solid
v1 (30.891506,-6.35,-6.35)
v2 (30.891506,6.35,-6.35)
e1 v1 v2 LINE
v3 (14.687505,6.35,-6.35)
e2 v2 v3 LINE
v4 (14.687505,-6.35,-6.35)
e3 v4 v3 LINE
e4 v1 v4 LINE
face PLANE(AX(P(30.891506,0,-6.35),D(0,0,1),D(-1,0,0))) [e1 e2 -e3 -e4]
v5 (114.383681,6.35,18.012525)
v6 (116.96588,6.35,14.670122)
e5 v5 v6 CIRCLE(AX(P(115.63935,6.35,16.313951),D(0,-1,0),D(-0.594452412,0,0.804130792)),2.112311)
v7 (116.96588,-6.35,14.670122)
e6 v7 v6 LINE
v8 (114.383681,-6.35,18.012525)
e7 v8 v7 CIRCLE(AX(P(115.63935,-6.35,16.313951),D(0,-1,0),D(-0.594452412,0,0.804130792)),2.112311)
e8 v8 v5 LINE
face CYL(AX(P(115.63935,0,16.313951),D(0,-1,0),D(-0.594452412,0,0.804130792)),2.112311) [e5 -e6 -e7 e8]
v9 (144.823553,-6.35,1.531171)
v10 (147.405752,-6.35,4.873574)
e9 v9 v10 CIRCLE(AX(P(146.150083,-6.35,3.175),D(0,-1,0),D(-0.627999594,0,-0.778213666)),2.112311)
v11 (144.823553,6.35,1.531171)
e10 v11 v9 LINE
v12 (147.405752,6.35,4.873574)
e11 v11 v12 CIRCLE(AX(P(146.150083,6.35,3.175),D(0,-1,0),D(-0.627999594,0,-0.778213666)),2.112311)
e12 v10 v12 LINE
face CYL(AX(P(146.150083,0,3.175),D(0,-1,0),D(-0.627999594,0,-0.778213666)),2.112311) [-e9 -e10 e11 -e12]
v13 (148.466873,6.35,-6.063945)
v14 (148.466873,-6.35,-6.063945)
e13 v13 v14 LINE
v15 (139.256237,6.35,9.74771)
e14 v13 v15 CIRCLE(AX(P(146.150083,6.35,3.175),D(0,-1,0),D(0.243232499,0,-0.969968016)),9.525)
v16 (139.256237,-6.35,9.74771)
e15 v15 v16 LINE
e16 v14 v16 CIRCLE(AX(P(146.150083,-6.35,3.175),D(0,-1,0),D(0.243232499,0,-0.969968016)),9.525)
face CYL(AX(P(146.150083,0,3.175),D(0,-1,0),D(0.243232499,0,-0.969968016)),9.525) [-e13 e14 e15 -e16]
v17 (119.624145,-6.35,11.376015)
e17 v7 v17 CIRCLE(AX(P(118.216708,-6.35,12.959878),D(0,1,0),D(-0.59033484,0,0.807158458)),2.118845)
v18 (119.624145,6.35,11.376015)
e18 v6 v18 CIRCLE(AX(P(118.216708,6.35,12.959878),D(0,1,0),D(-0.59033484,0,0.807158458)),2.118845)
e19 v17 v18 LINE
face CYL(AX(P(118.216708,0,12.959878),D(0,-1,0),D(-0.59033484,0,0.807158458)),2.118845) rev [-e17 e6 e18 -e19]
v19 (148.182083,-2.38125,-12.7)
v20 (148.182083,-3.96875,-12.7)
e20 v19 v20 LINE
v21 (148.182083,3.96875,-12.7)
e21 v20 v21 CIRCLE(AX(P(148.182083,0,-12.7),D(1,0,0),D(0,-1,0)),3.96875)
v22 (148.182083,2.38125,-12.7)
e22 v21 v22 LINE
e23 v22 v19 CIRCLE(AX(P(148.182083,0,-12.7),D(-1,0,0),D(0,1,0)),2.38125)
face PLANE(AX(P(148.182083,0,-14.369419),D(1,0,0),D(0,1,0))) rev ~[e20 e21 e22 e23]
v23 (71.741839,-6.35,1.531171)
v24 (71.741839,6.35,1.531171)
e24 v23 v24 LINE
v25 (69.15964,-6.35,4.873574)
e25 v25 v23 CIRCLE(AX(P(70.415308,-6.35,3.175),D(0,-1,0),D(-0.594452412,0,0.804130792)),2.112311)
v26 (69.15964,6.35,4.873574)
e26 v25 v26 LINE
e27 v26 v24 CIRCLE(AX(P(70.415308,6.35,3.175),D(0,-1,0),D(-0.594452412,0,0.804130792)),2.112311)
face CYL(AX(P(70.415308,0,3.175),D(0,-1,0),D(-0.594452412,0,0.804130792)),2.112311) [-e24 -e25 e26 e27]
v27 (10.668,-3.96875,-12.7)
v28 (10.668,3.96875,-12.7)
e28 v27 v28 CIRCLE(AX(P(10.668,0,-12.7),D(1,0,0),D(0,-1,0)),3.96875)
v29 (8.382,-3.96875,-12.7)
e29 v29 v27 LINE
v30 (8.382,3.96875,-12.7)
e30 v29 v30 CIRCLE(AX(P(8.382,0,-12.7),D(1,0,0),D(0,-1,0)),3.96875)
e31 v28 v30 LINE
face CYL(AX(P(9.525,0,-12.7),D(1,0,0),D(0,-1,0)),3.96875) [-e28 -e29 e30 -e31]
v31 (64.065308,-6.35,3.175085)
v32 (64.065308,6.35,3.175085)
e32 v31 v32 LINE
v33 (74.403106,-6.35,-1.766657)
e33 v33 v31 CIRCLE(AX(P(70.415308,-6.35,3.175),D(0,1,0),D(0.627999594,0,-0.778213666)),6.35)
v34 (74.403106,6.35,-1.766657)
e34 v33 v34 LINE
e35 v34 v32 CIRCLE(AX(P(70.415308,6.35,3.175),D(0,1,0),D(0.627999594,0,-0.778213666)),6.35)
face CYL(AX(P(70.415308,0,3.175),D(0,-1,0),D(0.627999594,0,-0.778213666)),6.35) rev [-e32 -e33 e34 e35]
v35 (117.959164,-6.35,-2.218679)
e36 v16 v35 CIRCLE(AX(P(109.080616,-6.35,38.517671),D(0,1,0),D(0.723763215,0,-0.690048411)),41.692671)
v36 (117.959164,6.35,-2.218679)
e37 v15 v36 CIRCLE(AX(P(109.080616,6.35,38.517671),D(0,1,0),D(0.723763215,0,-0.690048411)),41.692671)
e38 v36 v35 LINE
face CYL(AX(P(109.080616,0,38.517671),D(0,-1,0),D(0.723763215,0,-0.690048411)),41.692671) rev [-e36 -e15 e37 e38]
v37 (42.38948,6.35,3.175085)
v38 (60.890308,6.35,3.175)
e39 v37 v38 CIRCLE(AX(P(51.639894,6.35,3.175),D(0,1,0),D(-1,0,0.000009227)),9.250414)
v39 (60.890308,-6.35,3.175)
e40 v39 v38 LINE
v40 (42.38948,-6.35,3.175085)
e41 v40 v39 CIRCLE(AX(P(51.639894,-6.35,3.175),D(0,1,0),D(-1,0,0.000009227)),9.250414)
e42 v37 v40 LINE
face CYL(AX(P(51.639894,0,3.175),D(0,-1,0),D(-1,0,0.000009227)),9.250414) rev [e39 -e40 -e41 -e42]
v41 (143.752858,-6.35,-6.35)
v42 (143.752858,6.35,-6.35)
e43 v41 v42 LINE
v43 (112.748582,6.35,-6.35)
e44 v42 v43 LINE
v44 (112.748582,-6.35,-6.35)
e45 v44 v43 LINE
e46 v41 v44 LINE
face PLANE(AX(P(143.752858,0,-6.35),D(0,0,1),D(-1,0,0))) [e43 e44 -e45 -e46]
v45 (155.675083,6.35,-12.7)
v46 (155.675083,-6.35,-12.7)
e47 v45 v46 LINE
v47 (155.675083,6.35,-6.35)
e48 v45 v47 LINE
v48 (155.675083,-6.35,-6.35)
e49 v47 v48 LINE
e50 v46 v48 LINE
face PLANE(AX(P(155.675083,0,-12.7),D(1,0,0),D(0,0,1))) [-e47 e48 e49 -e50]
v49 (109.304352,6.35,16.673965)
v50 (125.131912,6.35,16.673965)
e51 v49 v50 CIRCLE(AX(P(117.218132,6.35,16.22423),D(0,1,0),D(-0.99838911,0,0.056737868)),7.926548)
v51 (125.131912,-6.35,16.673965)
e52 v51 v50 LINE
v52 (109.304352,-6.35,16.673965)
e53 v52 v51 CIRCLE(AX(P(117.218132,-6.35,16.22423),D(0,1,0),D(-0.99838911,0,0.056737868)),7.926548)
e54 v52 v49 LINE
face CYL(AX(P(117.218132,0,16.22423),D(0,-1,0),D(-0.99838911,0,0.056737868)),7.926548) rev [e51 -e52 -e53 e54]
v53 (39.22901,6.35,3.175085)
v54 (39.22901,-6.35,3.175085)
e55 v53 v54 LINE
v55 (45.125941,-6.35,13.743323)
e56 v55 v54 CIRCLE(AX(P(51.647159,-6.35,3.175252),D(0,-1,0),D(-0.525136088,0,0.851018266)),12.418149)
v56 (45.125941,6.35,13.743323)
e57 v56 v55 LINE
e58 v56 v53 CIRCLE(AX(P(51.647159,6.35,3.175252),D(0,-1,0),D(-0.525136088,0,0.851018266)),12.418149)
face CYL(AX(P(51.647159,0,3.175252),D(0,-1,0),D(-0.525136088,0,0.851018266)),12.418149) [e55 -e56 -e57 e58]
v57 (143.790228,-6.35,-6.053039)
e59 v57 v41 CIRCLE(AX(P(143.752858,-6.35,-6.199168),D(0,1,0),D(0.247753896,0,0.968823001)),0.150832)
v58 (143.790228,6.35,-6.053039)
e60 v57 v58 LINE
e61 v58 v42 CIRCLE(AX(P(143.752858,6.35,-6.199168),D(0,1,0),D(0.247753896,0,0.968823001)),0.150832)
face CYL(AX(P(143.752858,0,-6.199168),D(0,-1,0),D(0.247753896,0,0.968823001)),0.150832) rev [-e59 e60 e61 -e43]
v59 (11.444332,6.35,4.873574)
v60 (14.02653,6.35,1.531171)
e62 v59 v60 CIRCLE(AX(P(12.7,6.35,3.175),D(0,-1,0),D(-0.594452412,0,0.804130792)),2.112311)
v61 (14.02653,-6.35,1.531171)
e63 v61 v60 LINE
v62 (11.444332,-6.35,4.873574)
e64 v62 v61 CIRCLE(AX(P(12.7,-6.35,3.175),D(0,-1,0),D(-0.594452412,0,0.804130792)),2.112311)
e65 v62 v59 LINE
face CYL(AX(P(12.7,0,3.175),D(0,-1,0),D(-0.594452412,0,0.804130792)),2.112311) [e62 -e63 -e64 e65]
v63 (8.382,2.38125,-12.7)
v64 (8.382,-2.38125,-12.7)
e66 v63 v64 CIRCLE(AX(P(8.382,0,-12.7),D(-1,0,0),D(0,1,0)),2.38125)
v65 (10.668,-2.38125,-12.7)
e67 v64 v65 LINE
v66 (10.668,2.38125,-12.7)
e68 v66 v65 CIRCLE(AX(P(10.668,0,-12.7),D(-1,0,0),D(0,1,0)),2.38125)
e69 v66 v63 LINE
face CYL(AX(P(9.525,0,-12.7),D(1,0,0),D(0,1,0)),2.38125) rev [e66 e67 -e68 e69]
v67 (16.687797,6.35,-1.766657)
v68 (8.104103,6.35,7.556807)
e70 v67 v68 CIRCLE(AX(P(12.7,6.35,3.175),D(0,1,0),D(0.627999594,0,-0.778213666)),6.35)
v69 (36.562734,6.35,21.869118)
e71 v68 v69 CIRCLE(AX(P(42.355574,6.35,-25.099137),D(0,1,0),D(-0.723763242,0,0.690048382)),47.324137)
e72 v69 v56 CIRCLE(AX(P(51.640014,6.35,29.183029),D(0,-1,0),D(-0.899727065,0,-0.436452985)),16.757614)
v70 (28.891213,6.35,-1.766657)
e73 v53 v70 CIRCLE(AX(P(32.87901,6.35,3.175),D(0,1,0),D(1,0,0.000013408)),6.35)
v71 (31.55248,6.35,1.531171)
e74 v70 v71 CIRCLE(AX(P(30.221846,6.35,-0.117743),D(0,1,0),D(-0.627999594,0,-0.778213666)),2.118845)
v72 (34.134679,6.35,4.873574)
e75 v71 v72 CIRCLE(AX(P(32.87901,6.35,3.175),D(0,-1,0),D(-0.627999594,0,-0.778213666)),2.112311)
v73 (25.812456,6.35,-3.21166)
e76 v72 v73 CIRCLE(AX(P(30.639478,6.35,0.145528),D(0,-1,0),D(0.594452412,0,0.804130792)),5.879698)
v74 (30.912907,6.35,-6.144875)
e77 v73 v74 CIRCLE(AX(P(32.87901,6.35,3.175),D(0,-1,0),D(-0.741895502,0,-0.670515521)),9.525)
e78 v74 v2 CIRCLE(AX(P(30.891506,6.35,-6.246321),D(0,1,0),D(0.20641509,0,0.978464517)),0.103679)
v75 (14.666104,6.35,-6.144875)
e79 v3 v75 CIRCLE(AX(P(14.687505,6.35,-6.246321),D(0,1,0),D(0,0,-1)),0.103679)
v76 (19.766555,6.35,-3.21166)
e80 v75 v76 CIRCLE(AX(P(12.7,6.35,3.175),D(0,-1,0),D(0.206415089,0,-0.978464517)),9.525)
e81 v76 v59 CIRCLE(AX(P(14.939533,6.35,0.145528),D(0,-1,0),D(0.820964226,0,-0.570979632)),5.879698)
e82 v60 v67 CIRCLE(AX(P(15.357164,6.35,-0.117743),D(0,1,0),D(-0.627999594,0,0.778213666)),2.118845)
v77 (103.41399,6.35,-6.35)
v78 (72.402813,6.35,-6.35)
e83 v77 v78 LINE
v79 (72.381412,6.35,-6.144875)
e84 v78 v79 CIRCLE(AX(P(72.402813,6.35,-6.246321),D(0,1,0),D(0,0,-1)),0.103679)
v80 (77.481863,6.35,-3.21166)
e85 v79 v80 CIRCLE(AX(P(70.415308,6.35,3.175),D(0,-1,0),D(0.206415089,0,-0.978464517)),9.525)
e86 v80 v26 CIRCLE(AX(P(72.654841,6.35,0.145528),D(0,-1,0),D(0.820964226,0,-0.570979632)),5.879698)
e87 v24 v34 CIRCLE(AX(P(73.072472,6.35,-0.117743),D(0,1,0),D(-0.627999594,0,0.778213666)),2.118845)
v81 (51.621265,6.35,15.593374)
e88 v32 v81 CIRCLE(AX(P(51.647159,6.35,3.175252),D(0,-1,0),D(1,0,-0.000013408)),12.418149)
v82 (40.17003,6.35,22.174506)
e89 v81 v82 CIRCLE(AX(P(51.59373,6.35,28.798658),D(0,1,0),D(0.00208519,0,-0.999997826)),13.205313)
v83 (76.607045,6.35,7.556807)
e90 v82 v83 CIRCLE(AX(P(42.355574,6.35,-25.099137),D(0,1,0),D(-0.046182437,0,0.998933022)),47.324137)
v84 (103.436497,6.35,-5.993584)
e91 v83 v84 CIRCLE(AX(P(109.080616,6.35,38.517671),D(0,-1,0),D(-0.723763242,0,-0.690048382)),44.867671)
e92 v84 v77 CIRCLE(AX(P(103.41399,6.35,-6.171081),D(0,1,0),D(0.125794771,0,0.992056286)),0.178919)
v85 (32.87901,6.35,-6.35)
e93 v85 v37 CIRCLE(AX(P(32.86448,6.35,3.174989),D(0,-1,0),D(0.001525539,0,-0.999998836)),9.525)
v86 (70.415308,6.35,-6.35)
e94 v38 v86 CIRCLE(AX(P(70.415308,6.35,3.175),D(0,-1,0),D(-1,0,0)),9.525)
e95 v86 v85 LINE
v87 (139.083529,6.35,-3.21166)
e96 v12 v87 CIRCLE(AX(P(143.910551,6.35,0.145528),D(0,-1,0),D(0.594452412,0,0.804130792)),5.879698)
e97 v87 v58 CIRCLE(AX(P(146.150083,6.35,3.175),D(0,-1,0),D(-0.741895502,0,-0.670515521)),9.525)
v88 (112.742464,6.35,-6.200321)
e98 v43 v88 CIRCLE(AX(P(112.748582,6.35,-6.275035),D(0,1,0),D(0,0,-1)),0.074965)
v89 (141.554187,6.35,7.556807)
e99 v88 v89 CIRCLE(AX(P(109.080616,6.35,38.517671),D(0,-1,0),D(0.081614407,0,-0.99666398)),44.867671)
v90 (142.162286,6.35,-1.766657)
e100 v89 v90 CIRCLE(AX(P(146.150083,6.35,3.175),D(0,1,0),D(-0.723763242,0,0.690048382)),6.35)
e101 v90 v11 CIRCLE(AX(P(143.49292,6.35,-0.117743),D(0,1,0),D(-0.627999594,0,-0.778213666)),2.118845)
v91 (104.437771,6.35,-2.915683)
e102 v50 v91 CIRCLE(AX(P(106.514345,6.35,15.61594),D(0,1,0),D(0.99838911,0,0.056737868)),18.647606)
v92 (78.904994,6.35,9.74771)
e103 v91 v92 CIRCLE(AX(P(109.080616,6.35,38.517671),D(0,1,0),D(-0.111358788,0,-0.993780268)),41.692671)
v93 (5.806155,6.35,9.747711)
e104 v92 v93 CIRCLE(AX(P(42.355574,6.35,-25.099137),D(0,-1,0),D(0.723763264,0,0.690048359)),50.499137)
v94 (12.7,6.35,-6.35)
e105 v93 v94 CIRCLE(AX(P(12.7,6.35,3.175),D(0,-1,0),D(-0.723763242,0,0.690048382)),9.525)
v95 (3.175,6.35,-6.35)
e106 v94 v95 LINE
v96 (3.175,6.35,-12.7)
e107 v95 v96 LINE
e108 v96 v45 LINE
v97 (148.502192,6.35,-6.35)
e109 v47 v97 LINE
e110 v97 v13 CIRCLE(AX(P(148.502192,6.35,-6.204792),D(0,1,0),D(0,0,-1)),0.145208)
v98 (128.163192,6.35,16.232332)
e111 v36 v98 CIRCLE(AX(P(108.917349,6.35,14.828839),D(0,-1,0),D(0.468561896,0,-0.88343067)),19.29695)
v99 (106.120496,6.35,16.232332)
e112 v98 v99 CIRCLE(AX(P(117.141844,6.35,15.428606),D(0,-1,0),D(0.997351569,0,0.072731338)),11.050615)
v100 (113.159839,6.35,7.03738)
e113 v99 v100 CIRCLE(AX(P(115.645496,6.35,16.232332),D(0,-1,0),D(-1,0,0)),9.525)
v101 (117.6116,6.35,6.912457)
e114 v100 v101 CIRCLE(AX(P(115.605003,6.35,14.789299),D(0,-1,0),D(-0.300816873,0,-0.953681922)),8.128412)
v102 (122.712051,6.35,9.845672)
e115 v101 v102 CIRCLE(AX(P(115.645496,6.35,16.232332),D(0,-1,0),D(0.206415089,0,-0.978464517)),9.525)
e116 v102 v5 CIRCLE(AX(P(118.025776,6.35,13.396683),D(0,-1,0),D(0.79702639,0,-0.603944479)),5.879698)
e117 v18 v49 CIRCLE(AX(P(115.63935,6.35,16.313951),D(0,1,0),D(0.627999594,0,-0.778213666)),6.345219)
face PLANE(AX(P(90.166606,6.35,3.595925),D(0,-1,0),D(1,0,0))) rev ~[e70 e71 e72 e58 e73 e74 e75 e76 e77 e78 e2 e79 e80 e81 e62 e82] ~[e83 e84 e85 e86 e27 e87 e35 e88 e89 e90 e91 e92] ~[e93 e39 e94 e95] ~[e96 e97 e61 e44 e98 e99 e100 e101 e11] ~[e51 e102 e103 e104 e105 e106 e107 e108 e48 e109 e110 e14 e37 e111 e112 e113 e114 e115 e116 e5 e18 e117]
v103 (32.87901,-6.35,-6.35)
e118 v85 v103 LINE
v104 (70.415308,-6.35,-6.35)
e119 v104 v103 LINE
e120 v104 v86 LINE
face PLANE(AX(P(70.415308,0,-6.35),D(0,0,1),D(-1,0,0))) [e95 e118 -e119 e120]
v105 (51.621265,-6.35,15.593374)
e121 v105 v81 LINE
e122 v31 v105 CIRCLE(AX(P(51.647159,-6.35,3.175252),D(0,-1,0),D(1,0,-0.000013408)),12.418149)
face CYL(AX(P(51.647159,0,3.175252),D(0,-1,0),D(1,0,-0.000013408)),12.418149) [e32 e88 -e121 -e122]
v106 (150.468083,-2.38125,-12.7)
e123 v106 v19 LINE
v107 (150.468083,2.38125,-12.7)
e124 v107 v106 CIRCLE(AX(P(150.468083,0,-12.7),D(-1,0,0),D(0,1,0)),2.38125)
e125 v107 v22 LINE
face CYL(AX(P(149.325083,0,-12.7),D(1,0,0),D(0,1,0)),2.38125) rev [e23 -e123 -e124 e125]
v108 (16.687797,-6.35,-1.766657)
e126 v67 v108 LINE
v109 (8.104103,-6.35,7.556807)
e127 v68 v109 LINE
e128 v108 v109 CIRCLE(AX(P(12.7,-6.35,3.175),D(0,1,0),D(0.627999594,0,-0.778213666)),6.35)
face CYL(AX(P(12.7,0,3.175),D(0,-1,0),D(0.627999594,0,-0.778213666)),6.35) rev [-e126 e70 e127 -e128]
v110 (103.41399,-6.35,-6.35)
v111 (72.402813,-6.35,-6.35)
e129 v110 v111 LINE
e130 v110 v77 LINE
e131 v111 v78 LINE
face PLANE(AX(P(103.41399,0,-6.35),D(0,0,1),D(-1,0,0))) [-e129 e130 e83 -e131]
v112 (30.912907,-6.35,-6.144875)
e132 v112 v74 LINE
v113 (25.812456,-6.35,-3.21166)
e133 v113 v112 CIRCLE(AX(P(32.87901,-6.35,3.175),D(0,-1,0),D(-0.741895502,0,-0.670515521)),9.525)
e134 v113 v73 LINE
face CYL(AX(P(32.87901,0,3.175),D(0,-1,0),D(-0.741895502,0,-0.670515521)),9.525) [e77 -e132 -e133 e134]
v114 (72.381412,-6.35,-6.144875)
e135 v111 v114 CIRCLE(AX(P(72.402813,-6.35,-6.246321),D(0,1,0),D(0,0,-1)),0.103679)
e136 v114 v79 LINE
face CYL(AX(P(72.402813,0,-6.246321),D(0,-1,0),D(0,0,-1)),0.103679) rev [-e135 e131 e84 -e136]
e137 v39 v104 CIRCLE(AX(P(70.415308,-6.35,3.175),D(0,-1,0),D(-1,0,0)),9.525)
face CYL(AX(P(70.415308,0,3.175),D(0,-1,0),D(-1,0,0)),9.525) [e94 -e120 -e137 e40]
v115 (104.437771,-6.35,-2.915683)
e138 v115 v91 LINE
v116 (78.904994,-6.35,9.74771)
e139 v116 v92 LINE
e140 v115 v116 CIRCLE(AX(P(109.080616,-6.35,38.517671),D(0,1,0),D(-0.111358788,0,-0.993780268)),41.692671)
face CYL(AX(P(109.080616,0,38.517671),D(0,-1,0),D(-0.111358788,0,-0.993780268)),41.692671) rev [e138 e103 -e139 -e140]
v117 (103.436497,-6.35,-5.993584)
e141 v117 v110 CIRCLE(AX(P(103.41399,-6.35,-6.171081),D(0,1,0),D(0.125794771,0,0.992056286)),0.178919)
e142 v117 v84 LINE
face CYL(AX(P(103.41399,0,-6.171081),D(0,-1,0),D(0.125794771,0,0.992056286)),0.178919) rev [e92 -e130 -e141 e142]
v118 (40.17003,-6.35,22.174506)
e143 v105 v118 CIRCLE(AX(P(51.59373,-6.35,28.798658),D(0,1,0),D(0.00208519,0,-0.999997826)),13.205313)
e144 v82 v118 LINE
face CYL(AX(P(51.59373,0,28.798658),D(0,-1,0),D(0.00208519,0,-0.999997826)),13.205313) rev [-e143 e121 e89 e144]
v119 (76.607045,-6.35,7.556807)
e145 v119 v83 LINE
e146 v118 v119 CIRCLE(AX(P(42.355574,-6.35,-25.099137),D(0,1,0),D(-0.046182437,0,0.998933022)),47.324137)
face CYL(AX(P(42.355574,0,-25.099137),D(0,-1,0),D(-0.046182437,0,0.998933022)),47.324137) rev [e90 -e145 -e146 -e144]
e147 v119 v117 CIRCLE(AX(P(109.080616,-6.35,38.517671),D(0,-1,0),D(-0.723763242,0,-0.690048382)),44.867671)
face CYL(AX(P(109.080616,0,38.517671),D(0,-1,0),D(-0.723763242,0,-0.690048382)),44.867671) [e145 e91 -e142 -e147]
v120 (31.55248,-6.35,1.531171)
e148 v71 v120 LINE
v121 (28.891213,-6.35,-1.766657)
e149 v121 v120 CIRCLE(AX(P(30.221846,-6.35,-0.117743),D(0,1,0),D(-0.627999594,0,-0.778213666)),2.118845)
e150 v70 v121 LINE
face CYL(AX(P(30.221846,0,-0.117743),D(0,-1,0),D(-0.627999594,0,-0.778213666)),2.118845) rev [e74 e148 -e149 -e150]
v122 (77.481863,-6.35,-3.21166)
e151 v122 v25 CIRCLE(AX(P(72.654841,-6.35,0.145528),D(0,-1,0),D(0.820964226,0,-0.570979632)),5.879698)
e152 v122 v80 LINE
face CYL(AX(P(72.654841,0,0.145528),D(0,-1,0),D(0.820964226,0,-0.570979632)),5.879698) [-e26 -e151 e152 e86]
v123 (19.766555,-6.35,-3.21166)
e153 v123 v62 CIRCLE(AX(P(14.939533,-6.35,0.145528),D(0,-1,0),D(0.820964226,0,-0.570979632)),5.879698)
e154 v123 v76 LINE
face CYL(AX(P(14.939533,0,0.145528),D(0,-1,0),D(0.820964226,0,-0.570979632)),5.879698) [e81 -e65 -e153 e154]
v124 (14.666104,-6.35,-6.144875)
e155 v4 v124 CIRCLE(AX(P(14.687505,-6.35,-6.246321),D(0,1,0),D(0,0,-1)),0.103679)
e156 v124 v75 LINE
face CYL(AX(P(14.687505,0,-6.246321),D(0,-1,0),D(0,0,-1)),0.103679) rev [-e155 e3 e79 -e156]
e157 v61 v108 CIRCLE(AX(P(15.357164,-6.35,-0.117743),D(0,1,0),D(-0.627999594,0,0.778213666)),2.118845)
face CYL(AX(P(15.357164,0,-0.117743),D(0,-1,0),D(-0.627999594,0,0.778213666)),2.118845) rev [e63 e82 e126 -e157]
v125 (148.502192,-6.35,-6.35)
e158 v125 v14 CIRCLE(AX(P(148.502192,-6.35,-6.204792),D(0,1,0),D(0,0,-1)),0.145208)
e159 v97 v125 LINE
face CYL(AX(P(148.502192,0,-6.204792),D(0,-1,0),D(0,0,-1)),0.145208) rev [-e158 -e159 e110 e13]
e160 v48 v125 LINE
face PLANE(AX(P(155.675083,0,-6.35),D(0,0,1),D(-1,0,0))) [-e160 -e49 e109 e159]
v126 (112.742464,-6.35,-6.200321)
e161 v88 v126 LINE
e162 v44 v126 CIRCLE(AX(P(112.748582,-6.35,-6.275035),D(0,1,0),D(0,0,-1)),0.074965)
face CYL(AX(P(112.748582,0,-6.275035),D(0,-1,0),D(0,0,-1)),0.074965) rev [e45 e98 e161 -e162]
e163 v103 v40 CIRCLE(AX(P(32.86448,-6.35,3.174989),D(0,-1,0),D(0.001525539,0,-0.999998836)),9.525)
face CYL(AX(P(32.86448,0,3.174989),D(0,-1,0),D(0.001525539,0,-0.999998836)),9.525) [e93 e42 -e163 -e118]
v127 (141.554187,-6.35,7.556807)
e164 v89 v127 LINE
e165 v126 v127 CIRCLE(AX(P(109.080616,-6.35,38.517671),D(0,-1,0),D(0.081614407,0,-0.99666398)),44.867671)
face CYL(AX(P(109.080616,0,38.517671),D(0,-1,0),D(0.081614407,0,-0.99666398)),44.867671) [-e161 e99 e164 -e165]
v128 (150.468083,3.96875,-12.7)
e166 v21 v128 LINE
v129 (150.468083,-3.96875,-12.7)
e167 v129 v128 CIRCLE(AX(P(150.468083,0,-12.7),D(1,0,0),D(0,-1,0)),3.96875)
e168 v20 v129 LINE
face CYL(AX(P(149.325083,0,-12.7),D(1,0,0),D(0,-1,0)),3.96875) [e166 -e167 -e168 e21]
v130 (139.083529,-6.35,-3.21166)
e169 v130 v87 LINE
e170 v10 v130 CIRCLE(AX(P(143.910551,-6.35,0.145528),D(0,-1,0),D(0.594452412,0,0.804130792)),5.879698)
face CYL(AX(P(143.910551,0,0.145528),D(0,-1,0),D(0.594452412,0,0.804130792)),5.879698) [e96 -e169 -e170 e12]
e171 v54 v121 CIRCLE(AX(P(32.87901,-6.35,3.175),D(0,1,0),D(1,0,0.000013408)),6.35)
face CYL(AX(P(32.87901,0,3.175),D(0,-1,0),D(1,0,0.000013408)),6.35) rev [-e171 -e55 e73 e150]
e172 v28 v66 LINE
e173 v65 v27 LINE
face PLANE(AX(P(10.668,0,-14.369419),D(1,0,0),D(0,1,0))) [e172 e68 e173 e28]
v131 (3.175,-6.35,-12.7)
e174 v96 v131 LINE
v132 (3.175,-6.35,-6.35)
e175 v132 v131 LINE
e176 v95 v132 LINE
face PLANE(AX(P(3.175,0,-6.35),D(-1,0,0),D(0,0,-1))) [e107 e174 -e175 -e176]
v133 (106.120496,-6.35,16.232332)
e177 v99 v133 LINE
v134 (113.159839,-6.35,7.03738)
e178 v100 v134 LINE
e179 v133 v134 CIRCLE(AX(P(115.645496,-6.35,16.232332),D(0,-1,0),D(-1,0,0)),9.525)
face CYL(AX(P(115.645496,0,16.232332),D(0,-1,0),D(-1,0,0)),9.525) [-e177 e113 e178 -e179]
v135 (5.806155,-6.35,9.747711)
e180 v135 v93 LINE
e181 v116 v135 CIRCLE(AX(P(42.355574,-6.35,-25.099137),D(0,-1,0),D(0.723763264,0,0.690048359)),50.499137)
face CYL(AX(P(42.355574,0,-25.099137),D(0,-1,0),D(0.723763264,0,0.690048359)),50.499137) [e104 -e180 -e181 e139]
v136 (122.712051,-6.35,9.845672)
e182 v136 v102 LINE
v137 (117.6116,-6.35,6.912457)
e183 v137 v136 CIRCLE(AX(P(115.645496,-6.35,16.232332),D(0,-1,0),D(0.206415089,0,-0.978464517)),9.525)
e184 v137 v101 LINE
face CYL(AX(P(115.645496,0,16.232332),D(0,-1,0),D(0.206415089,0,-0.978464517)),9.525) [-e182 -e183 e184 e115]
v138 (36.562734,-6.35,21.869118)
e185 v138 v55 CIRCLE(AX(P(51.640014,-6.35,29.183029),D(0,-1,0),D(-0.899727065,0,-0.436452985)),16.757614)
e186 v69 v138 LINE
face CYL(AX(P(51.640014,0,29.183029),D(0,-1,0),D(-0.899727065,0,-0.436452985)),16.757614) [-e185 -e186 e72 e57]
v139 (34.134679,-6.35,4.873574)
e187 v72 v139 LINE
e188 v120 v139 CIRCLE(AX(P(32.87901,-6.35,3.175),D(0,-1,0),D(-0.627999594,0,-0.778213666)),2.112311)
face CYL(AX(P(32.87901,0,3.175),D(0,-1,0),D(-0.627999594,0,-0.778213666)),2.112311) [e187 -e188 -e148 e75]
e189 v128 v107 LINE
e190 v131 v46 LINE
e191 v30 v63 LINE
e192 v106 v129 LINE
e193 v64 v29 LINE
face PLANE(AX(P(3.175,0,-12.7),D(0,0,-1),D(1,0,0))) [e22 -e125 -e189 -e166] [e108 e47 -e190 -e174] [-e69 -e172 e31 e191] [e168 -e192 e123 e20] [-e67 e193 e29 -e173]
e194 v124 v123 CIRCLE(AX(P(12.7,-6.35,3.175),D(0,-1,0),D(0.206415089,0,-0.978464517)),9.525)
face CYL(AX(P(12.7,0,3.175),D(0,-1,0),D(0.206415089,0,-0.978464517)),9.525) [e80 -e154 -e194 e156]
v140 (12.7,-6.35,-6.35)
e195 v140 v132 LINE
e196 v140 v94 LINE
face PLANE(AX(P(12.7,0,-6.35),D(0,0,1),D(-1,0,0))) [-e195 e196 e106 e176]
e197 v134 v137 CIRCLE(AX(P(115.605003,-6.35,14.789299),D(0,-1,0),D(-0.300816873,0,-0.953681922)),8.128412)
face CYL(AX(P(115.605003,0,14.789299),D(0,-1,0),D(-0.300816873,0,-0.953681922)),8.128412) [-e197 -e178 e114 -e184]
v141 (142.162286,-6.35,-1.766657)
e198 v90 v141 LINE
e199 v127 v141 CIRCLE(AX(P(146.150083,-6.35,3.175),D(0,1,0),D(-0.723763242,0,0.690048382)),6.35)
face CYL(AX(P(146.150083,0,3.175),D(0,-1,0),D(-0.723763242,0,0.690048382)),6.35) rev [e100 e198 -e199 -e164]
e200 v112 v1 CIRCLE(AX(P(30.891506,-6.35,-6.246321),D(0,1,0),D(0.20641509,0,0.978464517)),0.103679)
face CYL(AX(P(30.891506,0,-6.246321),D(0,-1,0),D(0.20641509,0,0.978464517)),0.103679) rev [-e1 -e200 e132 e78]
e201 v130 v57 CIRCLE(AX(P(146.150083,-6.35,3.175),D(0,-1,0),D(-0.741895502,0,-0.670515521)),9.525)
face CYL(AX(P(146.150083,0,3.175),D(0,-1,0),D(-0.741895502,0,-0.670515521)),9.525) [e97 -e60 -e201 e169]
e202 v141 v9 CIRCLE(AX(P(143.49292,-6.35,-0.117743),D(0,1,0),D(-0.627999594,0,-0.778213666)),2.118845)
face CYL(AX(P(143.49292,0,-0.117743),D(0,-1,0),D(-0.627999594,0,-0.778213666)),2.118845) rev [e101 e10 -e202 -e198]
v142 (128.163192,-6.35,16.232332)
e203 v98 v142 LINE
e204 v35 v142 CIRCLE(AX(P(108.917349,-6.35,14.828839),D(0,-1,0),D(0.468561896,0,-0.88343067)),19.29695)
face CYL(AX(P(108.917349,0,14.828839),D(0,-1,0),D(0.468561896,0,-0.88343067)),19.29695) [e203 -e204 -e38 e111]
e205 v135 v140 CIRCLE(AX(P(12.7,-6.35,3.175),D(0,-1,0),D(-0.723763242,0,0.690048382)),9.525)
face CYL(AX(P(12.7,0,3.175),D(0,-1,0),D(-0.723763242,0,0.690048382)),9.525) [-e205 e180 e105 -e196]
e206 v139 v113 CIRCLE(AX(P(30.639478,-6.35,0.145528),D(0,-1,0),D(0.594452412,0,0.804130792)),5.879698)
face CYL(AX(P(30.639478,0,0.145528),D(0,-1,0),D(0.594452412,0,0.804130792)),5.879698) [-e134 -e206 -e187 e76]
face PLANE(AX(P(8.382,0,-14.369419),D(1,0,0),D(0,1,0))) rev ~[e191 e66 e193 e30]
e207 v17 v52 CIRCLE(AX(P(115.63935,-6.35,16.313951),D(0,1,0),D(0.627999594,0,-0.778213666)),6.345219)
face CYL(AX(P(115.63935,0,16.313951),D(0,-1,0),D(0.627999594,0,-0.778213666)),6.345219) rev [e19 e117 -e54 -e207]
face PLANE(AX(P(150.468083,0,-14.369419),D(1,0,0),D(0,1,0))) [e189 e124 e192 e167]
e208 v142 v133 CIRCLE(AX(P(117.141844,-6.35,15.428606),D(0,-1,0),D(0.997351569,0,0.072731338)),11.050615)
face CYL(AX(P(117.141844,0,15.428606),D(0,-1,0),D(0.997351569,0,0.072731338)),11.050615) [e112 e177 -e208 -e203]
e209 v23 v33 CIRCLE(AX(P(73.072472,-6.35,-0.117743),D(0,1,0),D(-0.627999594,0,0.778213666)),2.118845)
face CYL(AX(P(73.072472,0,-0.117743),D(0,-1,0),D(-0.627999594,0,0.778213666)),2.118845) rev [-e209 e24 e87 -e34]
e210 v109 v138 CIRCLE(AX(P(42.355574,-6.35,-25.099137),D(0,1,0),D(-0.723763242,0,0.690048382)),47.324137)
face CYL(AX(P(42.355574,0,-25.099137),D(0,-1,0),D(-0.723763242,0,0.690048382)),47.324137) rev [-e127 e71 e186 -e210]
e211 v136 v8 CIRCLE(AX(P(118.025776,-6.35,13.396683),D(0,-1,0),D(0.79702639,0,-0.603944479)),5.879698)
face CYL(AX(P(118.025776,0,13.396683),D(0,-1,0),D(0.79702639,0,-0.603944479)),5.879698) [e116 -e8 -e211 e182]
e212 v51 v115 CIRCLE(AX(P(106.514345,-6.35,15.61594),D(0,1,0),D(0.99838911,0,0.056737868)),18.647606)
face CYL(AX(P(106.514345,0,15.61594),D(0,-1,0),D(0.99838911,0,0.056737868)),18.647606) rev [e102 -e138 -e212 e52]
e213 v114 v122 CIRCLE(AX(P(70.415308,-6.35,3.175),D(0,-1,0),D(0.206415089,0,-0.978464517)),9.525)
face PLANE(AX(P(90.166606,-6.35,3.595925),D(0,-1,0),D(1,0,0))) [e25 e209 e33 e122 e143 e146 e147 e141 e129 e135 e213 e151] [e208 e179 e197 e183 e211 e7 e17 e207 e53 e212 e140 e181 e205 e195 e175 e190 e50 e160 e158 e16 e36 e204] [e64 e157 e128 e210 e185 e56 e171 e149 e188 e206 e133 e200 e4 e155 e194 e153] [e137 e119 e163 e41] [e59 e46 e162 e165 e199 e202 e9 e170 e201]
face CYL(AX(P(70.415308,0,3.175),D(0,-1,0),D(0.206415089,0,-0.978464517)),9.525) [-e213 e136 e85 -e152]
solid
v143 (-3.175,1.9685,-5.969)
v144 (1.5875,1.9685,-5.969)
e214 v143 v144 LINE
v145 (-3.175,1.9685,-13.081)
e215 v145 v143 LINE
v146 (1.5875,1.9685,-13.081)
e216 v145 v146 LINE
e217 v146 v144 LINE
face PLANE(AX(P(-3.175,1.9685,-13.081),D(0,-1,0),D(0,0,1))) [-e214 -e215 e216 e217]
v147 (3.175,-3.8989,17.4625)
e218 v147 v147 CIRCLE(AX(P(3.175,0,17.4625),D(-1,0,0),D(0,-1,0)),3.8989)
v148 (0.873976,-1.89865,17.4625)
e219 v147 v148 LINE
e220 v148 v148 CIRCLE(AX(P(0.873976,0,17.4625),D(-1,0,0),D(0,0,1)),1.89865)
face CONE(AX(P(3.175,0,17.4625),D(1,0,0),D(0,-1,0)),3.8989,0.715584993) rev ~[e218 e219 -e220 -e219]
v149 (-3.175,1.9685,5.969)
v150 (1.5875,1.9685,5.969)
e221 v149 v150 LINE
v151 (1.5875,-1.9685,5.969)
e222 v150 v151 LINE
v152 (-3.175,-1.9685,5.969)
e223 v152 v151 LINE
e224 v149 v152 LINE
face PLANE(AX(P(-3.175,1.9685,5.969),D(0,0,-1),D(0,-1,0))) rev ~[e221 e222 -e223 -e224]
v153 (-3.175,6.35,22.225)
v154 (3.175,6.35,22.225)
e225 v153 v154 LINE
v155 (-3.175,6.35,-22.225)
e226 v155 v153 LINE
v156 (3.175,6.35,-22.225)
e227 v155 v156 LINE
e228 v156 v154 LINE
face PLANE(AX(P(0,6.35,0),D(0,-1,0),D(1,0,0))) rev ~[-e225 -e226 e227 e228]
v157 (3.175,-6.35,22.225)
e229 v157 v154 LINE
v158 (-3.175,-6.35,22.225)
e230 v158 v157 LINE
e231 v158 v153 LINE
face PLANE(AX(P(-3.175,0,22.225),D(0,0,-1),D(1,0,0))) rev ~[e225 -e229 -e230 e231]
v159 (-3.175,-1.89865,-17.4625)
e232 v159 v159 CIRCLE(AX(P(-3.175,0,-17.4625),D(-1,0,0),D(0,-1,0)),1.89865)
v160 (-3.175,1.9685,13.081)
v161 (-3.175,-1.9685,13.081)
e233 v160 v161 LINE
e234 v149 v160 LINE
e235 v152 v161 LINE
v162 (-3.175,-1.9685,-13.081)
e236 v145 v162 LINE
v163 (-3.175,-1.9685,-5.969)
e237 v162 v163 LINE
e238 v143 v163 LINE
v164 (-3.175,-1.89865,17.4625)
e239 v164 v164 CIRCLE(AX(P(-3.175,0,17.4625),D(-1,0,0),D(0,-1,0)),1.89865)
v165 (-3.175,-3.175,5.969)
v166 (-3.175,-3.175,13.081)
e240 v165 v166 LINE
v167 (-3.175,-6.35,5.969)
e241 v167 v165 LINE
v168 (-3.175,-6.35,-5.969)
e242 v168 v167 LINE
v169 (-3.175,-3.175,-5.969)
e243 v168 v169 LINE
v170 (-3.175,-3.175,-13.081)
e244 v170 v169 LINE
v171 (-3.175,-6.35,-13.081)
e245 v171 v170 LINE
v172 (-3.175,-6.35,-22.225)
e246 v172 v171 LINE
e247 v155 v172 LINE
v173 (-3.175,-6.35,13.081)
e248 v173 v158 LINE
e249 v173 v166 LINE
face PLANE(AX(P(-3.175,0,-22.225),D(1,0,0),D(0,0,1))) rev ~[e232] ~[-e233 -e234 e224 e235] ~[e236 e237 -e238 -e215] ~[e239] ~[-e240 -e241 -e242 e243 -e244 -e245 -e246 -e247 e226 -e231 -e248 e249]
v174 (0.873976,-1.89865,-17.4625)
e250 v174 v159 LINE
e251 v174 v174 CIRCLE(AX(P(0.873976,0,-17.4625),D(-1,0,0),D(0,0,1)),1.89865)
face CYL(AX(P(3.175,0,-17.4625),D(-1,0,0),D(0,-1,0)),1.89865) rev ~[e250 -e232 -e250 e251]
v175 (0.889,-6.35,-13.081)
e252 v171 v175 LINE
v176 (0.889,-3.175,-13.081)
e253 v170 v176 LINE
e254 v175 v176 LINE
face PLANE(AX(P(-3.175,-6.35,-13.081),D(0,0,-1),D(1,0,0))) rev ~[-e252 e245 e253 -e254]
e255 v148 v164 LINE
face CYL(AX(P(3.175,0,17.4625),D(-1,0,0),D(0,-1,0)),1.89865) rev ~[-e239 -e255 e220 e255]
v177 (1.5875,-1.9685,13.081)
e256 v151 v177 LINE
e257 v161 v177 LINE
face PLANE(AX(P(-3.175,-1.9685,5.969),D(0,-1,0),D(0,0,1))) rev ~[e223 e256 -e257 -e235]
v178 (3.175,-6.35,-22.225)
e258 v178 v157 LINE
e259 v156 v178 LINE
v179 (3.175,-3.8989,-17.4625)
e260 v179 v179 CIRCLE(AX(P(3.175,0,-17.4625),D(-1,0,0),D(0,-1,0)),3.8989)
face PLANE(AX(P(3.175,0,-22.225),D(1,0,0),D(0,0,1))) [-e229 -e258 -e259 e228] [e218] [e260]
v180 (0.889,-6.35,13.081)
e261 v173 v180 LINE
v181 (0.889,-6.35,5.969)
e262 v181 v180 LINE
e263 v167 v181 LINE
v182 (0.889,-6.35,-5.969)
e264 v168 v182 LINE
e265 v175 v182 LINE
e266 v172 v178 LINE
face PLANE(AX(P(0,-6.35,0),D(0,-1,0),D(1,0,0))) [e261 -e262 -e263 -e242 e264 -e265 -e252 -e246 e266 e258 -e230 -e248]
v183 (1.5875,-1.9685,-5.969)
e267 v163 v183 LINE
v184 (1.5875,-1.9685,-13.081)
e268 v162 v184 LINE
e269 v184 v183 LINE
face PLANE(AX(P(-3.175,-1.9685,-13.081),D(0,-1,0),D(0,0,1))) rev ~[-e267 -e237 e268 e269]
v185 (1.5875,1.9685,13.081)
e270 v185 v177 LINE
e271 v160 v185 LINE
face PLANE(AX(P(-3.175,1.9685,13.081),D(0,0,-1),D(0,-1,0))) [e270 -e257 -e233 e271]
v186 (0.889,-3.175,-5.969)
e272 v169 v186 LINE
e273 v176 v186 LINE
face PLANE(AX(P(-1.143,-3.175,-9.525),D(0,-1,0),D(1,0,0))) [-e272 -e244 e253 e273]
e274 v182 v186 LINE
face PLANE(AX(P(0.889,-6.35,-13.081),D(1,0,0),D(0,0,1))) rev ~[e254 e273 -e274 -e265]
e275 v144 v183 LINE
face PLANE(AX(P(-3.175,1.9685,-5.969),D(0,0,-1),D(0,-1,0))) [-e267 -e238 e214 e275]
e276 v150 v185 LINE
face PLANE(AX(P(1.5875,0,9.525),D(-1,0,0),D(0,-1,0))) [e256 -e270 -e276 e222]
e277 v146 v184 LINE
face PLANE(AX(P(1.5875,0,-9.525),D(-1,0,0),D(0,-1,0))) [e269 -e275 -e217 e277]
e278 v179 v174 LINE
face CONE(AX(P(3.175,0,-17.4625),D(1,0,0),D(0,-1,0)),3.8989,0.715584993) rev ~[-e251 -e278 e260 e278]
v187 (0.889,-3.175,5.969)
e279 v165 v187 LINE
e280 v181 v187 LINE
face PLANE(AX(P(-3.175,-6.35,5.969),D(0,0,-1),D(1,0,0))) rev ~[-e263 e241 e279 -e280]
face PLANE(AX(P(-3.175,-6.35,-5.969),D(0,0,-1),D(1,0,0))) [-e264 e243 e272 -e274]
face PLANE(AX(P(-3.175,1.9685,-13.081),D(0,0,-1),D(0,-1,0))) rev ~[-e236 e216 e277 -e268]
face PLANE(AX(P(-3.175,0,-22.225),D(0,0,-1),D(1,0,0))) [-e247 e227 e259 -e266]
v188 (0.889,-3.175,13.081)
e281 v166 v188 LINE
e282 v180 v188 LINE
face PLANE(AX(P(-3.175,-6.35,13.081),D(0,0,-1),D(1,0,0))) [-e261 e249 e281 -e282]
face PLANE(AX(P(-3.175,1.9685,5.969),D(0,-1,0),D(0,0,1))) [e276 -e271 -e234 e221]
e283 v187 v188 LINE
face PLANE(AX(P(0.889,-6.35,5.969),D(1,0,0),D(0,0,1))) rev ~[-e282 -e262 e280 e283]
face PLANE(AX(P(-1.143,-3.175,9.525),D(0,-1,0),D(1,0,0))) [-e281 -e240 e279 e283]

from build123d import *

# Parameters (mm, degrees)
F0_W           = 6.35
F0_H           = 44.45
F1_DEPTH       = 6.35
F2_W           = 3.937
F2_H           = 7.112
F3_DEPTH       = 4.7625
F5_D           = 3.7973
F5_CSINK_D     = 7.7978
F5_CSINK_ANGLE = 82
F8_DEPTH       = 6.35
F11_DEPTH      = 1.143
F14_DEPTH      = 1.143
F15_W          = 4.064
F15_H          = 7.112
F16_DEPTH      = 3.175


with BuildPart() as f1:
    # F0 (on Front) → F1 (new body, symmetric)
    with BuildSketch(Plane.XZ):
        Rectangle(F0_W, F0_H)
    extrude(amount=F1_DEPTH, both=True)

    # F2 (on face) → F3 (cut)
    with BuildSketch(Plane(origin=(-3.175, 0, 0), x_dir=(0, -1, 0), z_dir=(-1, 0, 0))):
        with Locations((0, 9.525)):
            Rectangle(F2_W, F2_H)
        with Locations((0, -9.525)):
            Rectangle(F2_W, F2_H)
    extrude(amount=-F3_DEPTH, mode=Mode.SUBTRACT)

    # F5 (through all)
    with Locations(Plane.YZ.offset(3.175)):
        with Locations((0, 17.4625), (0, -17.4625)):
            CounterSinkHole(F5_D / 2, F5_CSINK_D / 2, counter_sink_angle=F5_CSINK_ANGLE)

    # F15 (on face) → F16 (cut)
    with BuildSketch(Plane.XZ.offset(6.35)):
        with Locations((-1.143, 9.525)):
            Rectangle(F15_W, F15_H)
        with Locations((-1.143, -9.525)):
            Rectangle(F15_W, F15_H)
    extrude(amount=-F16_DEPTH, mode=Mode.SUBTRACT)


with BuildPart() as f8:
    # F7 (on Front) → F8 (new body, symmetric)
    with BuildSketch(Plane.XZ):
        with BuildLine():
            Line((12.7, -6.35), (3.175, -6.35))
            Line((3.175, -6.35), (3.175, -12.7))
            Line((3.175, -12.7), (14.2875, -12.7))
            Line((14.2875, -12.7), (144.5625834946, -12.7))
            Line((144.5625834946, -12.7), (155.6750834946, -12.7))
            Line((155.6750834946, -12.7), (155.6750834946, -6.35))
            Line((155.6750834946, -6.35), (148.5021922939, -6.35))
            ThreePointArc((148.5021922939, -6.35), (148.3580788731, -6.2225859603), (148.4668730467, -6.0639453495))
            ThreePointArc((148.4668730467, -6.0639453495), (154.3804826295, 7.9693878732), (139.2562374816, 9.7477096504))
            ThreePointArc((139.2562374816, 9.7477096504), (129.5037806783, 2.1697253309), (117.9591642139, -2.218678791))
            ThreePointArc((117.9591642139, -2.218678791), (125.8039665063, 5.4899725627), (128.1631921853, 16.2323318424))
            ThreePointArc((128.1631921853, 16.2323318424), (117.1418442393, 26.4792205859), (106.1204962932, 16.2323318424))
            ThreePointArc((106.1204962932, 16.2323318424), (108.0823783057, 10.4422652358), (113.15983935, 7.0373802622))
            ThreePointArc((113.15983935, 7.0373802622), (115.3769972686, 6.6640863202), (117.6116000187, 6.9124573185))
            ThreePointArc((117.6116000187, 6.9124573185), (120.3939871842, 7.9753675541), (122.7120509525, 9.8456715064))
            ThreePointArc((122.7120509525, 9.8456715064), (122.1424438367, 17.5947659007), (114.3836814777, 18.0125252276))
            ThreePointArc((114.3836814777, 18.0125252276), (113.9677725127, 15.0225614527), (116.9658802281, 14.6701217141))
            ThreePointArc((116.9658802281, 14.6701217141), (119.8656217416, 14.2905119355), (119.6241447484, 11.3760148449))
            ThreePointArc((119.6241447484, 11.3760148449), (112.7414311782, 10.6691417209), (109.3043522991, 16.6739651556))
            ThreePointArc((109.3043522991, 16.6739651556), (117.2181319858, 24.1507781775), (125.1319116725, 16.6739651556))
            ThreePointArc((125.1319116725, 16.6739651556), (119.3338490751, 2.073653457), (104.4377705355, -2.9156827438))
            ThreePointArc((104.4377705355, -2.9156827438), (90.5557194512, 1.1665394412), (78.9049942328, 9.7477096504))
            ThreePointArc((78.9049942328, 9.7477096504), (42.3555749323, 25.4), (5.8061551221, 9.747710841))
            ThreePointArc((5.8061551221, 9.747710841), (3.9441249506, -0.5747036043), (12.7, -6.35))
        make_face()
        with BuildLine():
            Line((42.4040103546, -6.35), (32.8790103546, -6.35))
            ThreePointArc((32.8790103546, -6.35), (39.6048411229, -3.5550297701), (42.389479598, 3.1750851377))
            ThreePointArc((42.389479598, 3.1750851377), (51.6399365376, 12.4254141584), (60.8903083398, 3.175))
            ThreePointArc((60.8903083398, 3.175), (63.680116249, -3.5601920908), (70.4153083398, -6.35))
            Line((70.4153083398, -6.35), (60.8903083398, -6.35))
            Line((60.8903083398, -6.35), (42.4040103546, -6.35))
        make_face(mode=Mode.SUBTRACT)
        with BuildLine():
            ThreePointArc((112.7424642446, -6.20032054), (128.4134060236, -1.971230267), (141.5541869093, 7.5568072273))
            ThreePointArc((141.5541869093, 7.5568072273), (152.4866200858, 3.5882844391), (142.1622860714, -1.7666567781))
            ThreePointArc((142.1622860714, -1.7666567781), (141.8440058077, 1.2128904936), (144.8235530793, 1.5311707573))
            ThreePointArc((144.8235530793, 1.5311707573), (147.8216607947, 1.8836104959), (147.4057518297, 4.8735742709))
            ThreePointArc((147.4057518297, 4.8735742709), (139.8134554086, 4.3627142336), (139.0835288352, -3.211660336))
            ThreePointArc((139.0835288352, -3.211660336), (141.2274153025, -4.9793217297), (143.7902276315, -6.0530390824))
            ThreePointArc((143.7902276315, -6.0530390824), (143.9025099516, -6.2180002291), (143.7528584905, -6.35))
            Line((143.7528584905, -6.35), (112.74858245, -6.35))
            ThreePointArc((112.74858245, -6.35), (112.6736802251, -6.2780968852), (112.7424642446, -6.20032054))
        make_face(mode=Mode.SUBTRACT)
        with BuildLine():
            ThreePointArc((16.6877974231, -1.7666567781), (8.0283630907, -1.1259660063), (8.1041034147, 7.5568072273))
            ThreePointArc((8.1041034147, 7.5568072273), (21.09299534, 17.1794235864), (36.5627344453, 21.8691177185))
            ThreePointArc((36.5627344453, 21.8691177185), (40.1051208921, 17.0272114642), (45.1259411578, 13.7433232546))
            ThreePointArc((45.1259411578, 13.7433232546), (40.8029525277, 9.22616916), (39.229010354, 3.1750851377))
            ThreePointArc((39.229010354, 3.1750851377), (35.6176603036, -2.5540746597), (28.8912129315, -1.7666567781))
            ThreePointArc((28.8912129315, -1.7666567781), (28.5729326677, 1.2128904936), (31.5524799393, 1.5311707573))
            ThreePointArc((31.5524799393, 1.5311707573), (34.5505876548, 1.8836104959), (34.1346786898, 4.8735742709))
            ThreePointArc((34.1346786898, 4.8735742709), (26.5423822687, 4.3627142336), (25.8124556953, -3.211660336))
            ThreePointArc((25.8124556953, -3.211660336), (28.1305194636, -5.0819642883), (30.9129066291, -6.1448745239))
            ThreePointArc((30.9129066291, -6.1448745239), (30.9946251149, -6.2570794195), (30.8915056926, -6.35))
            Line((30.8915056926, -6.35), (14.687504662, -6.35))
            ThreePointArc((14.687504662, -6.35), (14.5843852397, -6.2570794195), (14.6661037255, -6.1448745239))
            ThreePointArc((14.6661037255, -6.1448745239), (17.448490891, -5.0819642883), (19.7665546593, -3.211660336))
            ThreePointArc((19.7665546593, -3.211660336), (19.0366280859, 4.3627142336), (11.4443316648, 4.8735742709))
            ThreePointArc((11.4443316648, 4.8735742709), (11.0284226998, 1.8836104959), (14.0265304153, 1.5311707573))
            ThreePointArc((14.0265304153, 1.5311707573), (17.0060776869, 1.2128904936), (16.6877974231, -1.7666567781))
        make_face(mode=Mode.SUBTRACT)
        with BuildLine():
            ThreePointArc((40.1700301412, 22.1745061888), (59.9758804335, 18.8223696543), (76.6070448051, 7.5568072273))
            ThreePointArc((76.6070448051, 7.5568072273), (88.8533362909, -1.5318616167), (103.436497444, -5.9935840749))
            ThreePointArc((103.436497444, -5.9935840749), (103.592553348, -6.1823573261), (103.4139904195, -6.35))
            Line((103.4139904195, -6.35), (72.4028130018, -6.35))
            ThreePointArc((72.4028130018, -6.35), (72.2996935795, -6.2570794195), (72.3814120653, -6.1448745239))
            ThreePointArc((72.3814120653, -6.1448745239), (75.1637992309, -5.0819642883), (77.4818629991, -3.211660336))
            ThreePointArc((77.4818629991, -3.211660336), (76.7519364257, 4.3627142336), (69.1596400046, 4.8735742709))
            ThreePointArc((69.1596400046, 4.8735742709), (68.7437310396, 1.8836104959), (71.7418387551, 1.5311707573))
            ThreePointArc((71.7418387551, 1.5311707573), (74.7213860267, 1.2128904936), (74.4031057629, -1.7666567781))
            ThreePointArc((74.4031057629, -1.7666567781), (67.6766583907, -2.5540746597), (64.0653083404, 3.1750851378))
            ThreePointArc((64.0653083404, 3.1750851378), (60.4190158784, 11.9653004079), (51.6212651489, 15.5933736315))
            ThreePointArc((51.6212651489, 15.5933736315), (45.0137626955, 17.3494514739), (40.1700301412, 22.1745061888))
        make_face(mode=Mode.SUBTRACT)
    extrude(amount=F8_DEPTH, both=True)

    # F10 (on offset) → F11 (join, symmetric)
    with BuildSketch(Plane.YZ.offset(149.3250834946)):
        with BuildLine():
            Line((-2.38125, -12.7), (-3.96875, -12.7))
            ThreePointArc((-3.96875, -12.7), (0, -16.66875), (3.96875, -12.7))
            Line((3.96875, -12.7), (2.38125, -12.7))
            ThreePointArc((2.38125, -12.7), (0, -15.08125), (-2.38125, -12.7))
        make_face()
    extrude(amount=F11_DEPTH, both=True)

    # F13 (on offset) → F14 (join, symmetric)
    with BuildSketch(Plane.YZ.offset(9.525)):
        with BuildLine():
            ThreePointArc((2.38125, -12.7), (0, -15.08125), (-2.38125, -12.7))
            Line((-2.38125, -12.7), (-3.96875, -12.7))
            ThreePointArc((-3.96875, -12.7), (0, -16.66875), (3.96875, -12.7))
            Line((3.96875, -12.7), (2.38125, -12.7))
        make_face()
    extrude(amount=F14_DEPTH, both=True)


solid = Compound([f1.part, f8.part])
